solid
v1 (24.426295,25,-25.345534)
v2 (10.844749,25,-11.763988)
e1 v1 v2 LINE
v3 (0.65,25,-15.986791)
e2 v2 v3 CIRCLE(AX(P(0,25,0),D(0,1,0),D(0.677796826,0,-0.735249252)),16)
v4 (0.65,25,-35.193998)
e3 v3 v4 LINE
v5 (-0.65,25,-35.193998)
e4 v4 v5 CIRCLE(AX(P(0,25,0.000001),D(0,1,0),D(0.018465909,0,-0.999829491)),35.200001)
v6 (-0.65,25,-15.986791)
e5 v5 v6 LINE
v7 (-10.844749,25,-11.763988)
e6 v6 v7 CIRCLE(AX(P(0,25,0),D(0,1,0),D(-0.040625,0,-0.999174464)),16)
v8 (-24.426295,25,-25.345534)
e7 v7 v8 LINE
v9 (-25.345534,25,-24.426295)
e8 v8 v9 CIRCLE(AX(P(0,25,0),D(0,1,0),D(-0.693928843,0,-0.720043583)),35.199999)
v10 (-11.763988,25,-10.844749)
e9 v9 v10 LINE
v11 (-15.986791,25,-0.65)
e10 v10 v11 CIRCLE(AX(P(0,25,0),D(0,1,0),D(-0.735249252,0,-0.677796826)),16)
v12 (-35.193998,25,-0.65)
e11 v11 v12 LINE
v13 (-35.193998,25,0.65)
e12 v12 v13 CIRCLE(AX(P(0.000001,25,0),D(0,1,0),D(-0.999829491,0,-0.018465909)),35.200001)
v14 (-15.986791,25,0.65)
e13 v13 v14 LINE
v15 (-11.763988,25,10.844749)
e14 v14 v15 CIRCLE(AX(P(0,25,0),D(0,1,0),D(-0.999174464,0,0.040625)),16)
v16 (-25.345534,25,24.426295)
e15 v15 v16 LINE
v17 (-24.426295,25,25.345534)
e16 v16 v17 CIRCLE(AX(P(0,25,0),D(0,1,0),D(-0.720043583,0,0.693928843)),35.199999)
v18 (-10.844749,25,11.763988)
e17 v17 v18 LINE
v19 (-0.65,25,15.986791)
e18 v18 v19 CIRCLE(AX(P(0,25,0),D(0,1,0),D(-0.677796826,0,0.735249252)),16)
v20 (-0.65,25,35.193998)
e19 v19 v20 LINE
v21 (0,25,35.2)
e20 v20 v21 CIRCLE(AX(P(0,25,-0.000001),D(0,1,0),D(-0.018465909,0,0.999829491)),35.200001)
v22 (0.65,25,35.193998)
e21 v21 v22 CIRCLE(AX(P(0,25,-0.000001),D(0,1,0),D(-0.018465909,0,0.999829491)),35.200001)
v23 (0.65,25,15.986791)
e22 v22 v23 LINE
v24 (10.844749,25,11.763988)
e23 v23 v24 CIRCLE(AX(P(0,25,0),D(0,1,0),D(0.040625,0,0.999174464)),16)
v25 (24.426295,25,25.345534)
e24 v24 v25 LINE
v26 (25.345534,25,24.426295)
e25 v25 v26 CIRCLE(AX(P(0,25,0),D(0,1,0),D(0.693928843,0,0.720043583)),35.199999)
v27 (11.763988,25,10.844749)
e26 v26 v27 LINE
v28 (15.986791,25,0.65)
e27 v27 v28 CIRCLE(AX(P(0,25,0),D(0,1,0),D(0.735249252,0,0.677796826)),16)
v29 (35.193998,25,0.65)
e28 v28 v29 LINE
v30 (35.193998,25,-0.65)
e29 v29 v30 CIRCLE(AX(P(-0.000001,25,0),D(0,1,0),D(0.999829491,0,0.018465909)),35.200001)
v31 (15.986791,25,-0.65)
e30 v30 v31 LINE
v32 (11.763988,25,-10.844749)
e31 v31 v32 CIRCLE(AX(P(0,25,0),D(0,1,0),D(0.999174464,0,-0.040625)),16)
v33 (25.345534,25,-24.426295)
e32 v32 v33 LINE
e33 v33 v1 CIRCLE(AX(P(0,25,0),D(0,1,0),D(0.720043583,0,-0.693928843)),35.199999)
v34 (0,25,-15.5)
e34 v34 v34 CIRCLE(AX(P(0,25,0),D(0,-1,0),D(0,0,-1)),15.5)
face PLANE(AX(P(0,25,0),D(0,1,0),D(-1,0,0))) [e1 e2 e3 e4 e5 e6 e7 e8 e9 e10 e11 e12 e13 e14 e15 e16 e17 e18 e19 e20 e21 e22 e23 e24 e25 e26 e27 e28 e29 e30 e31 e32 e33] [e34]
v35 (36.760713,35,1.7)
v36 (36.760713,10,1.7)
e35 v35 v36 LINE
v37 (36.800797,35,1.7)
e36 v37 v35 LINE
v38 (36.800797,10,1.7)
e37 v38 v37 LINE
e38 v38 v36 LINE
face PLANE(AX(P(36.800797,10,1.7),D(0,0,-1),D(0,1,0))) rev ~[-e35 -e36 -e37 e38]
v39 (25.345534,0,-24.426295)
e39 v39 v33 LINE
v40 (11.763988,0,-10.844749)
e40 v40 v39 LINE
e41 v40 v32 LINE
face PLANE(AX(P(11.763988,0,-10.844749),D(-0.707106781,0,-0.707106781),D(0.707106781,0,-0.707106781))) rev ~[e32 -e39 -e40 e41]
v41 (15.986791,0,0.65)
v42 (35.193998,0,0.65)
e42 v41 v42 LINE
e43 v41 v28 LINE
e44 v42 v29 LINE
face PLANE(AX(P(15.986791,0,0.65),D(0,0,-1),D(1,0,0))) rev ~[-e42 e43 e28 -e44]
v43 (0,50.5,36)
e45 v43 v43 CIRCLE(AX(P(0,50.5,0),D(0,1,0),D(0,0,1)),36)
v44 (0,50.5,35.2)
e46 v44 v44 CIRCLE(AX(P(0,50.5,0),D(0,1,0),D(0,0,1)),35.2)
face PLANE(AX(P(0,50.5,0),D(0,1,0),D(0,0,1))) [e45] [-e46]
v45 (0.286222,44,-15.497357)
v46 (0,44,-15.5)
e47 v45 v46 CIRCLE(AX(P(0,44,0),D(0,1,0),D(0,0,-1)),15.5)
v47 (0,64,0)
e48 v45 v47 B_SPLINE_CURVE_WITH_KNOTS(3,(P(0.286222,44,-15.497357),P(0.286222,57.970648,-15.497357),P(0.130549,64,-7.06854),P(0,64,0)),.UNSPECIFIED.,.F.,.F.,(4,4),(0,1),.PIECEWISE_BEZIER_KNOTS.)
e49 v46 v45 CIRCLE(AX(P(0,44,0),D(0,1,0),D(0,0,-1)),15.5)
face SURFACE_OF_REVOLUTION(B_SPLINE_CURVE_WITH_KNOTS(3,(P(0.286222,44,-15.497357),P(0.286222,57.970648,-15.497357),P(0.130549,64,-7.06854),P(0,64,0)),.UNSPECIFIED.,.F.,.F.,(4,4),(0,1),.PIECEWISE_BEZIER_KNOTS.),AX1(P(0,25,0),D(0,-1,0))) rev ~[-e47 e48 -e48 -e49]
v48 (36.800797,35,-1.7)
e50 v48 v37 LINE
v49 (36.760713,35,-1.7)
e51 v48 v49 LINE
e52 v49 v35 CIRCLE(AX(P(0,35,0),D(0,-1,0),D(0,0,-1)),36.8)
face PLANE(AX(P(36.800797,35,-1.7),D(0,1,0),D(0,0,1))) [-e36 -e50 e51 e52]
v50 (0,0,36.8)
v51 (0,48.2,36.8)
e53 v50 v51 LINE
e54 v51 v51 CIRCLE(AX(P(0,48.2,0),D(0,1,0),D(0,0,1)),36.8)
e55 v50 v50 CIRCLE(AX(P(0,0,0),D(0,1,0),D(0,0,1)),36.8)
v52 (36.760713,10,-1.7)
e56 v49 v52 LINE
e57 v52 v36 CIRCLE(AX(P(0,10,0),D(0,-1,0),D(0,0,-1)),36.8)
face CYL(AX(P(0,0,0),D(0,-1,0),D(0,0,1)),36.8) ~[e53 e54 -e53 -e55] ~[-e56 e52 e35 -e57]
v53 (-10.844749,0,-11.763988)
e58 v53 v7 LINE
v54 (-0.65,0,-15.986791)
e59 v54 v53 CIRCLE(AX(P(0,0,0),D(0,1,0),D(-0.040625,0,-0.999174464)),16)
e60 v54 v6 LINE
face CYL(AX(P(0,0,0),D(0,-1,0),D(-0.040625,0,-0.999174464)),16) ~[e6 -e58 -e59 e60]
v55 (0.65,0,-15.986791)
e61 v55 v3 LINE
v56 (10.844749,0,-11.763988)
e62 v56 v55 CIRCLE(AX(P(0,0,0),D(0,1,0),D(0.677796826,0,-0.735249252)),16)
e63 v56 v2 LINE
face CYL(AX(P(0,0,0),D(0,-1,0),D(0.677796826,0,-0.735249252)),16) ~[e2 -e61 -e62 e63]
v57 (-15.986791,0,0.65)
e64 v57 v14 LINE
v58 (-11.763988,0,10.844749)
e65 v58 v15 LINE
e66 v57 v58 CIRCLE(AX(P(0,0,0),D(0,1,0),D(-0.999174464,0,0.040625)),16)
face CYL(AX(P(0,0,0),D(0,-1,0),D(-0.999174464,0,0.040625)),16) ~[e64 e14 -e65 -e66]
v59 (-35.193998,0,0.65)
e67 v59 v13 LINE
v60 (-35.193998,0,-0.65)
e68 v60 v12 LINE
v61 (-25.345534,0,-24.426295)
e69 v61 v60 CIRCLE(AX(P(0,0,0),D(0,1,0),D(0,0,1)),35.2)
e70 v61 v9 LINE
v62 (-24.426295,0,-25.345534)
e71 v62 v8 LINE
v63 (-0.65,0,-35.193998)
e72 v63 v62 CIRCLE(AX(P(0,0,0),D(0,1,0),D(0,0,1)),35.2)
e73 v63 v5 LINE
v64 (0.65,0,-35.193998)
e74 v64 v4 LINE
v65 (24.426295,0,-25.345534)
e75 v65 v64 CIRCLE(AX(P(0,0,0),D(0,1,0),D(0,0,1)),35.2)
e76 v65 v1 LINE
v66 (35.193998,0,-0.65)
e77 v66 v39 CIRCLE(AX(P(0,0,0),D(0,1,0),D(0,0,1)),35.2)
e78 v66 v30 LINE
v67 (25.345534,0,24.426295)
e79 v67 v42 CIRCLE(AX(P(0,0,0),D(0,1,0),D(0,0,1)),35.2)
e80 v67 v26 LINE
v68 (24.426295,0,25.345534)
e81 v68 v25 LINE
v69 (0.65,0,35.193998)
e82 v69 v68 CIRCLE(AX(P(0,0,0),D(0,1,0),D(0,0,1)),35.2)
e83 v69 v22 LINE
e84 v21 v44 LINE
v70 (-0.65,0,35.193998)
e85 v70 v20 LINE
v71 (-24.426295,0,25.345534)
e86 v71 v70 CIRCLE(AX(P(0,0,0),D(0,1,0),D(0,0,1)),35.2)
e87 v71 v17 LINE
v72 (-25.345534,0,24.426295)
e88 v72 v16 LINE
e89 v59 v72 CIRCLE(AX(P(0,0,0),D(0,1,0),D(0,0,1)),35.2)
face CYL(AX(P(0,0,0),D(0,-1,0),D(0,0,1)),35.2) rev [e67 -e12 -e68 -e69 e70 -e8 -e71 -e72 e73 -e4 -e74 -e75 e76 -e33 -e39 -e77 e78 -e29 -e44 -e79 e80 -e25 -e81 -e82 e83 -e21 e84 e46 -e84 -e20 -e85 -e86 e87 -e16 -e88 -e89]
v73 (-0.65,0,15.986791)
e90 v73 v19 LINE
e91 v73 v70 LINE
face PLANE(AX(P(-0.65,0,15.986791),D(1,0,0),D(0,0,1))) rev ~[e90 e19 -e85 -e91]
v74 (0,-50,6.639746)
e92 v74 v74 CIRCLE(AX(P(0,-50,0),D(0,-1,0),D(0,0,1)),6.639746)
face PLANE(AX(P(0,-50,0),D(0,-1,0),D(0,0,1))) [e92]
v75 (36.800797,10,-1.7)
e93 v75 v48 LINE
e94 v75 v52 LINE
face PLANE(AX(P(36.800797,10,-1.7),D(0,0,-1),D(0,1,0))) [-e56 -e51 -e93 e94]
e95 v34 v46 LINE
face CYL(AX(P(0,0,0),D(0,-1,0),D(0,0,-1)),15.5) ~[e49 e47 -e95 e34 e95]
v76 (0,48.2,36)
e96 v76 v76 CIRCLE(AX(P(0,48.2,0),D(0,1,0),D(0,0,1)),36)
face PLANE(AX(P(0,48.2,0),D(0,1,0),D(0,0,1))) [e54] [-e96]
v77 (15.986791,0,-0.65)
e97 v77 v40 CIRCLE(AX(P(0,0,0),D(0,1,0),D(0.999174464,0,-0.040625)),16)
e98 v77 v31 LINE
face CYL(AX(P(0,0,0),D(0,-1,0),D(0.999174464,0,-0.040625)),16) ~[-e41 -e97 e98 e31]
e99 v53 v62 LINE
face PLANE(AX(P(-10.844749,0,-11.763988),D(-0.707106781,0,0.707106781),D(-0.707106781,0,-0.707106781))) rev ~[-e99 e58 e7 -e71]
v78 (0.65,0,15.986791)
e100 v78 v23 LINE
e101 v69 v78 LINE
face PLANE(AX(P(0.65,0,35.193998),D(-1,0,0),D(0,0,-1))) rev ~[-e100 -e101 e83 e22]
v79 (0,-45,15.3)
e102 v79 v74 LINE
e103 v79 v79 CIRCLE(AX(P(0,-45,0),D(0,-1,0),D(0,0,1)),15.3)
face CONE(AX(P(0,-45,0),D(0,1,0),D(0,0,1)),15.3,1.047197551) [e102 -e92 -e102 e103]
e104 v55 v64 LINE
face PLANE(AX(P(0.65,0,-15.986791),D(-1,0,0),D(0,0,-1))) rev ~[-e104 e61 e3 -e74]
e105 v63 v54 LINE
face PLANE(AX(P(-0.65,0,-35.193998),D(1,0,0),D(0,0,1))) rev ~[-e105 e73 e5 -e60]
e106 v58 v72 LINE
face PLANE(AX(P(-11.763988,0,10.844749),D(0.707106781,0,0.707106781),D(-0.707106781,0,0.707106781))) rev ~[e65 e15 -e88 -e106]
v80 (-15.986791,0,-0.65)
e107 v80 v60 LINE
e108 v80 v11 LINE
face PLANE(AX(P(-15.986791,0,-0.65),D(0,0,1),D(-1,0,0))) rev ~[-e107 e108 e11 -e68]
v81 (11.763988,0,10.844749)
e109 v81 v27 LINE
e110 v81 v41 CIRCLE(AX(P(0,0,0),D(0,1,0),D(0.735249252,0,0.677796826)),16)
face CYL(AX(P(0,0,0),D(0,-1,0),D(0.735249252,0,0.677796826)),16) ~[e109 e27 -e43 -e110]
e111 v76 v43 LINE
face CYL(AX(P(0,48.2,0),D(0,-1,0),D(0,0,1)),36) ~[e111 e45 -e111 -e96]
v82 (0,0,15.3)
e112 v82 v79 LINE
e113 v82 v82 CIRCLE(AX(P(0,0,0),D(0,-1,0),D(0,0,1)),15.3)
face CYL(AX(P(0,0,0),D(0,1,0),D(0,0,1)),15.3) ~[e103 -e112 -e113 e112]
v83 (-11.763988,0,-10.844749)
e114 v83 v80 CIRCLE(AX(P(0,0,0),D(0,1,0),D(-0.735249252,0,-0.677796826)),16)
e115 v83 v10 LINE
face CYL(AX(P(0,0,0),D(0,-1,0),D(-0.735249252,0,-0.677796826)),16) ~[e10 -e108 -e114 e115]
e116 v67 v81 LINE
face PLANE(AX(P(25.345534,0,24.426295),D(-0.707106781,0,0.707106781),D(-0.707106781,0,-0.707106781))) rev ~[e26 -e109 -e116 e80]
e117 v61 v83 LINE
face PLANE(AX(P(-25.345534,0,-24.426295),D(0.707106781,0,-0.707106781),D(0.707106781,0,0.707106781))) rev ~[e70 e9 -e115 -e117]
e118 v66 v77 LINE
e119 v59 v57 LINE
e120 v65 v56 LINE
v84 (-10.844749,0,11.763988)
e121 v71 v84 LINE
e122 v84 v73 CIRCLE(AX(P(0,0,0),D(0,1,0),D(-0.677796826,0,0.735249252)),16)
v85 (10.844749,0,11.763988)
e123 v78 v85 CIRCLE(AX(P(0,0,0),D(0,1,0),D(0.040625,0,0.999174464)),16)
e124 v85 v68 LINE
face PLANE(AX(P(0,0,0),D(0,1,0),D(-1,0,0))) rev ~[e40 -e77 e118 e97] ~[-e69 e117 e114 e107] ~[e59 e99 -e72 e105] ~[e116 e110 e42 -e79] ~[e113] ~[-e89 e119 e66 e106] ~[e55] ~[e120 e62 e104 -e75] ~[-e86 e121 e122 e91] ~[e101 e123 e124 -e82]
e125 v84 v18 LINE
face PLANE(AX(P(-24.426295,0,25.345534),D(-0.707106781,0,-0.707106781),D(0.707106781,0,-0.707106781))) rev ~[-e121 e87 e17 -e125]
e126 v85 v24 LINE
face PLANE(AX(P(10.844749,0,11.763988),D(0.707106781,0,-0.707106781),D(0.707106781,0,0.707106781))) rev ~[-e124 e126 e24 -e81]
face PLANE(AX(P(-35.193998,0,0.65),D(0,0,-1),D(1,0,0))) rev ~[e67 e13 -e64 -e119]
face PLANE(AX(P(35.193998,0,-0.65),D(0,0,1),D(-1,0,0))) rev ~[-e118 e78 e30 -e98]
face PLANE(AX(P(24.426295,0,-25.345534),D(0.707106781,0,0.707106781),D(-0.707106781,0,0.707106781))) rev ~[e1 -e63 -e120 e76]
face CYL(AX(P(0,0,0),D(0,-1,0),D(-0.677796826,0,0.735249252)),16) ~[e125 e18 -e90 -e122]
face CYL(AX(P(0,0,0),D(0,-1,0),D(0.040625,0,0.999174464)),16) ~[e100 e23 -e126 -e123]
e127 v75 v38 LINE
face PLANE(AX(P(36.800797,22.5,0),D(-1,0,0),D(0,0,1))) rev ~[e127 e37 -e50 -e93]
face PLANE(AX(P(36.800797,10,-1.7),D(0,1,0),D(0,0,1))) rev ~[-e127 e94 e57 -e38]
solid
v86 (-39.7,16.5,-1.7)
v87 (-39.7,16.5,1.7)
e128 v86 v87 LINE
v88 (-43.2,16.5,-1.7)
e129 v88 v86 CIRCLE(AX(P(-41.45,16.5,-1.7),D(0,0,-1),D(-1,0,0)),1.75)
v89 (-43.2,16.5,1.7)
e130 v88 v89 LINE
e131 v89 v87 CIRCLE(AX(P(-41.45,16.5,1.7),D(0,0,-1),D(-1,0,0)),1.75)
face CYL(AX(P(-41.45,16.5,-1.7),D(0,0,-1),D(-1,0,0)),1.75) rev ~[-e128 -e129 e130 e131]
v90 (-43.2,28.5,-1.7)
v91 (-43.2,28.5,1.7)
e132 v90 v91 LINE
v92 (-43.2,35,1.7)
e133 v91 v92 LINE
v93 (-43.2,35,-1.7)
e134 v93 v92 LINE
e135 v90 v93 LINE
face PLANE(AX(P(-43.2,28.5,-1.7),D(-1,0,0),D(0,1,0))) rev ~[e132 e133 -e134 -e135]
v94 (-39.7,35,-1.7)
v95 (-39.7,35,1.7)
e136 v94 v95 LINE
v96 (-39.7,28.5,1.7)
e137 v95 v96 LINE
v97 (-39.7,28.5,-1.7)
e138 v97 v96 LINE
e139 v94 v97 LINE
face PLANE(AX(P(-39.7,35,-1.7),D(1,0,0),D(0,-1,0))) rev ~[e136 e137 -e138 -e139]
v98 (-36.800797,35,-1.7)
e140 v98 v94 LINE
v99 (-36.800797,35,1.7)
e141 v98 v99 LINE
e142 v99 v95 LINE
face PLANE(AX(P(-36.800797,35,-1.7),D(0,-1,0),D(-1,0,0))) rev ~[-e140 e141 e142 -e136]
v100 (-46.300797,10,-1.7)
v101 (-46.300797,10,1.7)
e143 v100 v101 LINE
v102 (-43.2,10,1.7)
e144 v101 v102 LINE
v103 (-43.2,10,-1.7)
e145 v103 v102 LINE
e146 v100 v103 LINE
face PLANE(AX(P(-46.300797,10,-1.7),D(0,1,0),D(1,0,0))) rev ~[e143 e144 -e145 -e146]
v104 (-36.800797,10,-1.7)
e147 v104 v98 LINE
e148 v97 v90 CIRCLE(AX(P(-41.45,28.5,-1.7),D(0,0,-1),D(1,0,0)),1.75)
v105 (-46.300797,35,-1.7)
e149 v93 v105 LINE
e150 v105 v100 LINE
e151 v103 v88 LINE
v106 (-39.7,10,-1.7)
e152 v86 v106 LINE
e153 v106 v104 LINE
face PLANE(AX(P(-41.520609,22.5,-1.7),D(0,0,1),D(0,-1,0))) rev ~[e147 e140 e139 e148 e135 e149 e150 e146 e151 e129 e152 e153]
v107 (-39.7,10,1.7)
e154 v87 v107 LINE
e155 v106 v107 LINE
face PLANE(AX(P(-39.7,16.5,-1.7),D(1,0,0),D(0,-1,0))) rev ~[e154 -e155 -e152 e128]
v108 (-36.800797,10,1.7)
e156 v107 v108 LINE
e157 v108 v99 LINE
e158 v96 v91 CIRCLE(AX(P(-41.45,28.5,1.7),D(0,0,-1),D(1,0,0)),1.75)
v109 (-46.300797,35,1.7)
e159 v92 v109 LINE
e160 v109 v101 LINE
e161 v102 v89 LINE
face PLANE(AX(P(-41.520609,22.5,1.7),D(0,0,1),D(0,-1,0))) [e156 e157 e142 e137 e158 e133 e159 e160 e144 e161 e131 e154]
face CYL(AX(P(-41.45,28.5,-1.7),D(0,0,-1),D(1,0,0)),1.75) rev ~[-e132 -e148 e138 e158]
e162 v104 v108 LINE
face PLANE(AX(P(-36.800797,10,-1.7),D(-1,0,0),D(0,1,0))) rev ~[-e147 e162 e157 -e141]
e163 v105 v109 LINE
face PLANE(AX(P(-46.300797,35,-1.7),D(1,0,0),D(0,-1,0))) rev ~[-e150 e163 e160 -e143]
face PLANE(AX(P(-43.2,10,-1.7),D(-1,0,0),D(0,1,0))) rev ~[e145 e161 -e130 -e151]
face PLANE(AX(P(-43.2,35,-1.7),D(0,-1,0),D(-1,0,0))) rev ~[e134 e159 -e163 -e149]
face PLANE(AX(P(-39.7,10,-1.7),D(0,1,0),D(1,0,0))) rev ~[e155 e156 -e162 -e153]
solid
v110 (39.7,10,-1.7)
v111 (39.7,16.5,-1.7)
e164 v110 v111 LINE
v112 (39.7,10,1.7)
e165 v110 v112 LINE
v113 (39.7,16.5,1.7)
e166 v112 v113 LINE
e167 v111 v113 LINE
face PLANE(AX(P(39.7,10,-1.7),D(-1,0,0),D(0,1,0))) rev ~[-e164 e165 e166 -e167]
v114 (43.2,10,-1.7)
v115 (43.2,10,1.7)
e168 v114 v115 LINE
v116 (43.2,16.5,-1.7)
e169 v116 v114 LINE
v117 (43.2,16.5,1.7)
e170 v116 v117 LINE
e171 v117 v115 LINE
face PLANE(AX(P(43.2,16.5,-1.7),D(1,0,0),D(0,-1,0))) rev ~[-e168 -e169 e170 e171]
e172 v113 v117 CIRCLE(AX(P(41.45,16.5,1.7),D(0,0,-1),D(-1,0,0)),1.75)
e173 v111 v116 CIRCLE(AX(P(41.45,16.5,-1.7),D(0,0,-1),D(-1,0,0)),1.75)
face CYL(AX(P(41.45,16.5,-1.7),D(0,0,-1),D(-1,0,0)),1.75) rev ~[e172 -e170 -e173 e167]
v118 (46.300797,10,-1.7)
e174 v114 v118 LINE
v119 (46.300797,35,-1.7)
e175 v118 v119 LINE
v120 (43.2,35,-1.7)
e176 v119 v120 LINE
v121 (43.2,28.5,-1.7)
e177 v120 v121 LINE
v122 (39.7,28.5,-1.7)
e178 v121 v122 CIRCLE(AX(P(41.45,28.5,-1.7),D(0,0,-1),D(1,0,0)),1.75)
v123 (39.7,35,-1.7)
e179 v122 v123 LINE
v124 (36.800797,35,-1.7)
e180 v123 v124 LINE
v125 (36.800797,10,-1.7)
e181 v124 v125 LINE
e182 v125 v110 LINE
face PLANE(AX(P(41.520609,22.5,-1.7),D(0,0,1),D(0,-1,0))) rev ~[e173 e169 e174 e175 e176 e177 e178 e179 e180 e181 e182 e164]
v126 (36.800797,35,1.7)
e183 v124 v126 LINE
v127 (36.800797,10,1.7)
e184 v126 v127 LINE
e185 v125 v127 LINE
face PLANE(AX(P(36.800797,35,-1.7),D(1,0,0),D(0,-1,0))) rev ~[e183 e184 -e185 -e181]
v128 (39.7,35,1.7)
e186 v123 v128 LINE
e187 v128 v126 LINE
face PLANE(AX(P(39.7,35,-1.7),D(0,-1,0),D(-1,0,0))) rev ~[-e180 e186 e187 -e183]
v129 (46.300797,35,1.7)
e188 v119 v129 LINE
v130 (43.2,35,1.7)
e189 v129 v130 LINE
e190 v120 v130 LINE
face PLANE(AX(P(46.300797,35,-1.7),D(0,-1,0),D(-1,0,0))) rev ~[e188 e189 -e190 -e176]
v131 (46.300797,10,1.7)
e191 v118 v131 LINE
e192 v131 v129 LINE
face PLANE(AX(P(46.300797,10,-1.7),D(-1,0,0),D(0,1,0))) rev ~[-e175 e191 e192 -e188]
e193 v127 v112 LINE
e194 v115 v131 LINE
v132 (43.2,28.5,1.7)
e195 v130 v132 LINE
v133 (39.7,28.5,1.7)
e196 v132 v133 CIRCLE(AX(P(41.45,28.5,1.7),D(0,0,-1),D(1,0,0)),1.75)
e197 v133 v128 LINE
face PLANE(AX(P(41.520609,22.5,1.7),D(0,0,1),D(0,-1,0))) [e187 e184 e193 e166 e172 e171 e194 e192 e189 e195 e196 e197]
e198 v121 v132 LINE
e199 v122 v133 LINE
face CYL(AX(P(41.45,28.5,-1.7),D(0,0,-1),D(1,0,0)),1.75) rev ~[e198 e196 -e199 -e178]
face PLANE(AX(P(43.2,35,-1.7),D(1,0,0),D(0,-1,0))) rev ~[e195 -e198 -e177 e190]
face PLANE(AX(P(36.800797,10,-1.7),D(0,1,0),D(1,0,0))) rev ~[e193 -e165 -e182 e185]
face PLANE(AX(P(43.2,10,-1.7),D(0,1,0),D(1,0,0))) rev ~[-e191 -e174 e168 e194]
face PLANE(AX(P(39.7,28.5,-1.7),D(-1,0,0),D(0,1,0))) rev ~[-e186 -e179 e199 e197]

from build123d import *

# Parameters (mm, degrees)
SKETCH1_R                  = 36.8
SKETCH1_R_2                = 35.2
BOSS_EXTRUDE1_DEPTH        = 50.5
SKETCH2_R                  = 15
BOSS_EXTRUDE2_DEPTH        = 25
BOSS_EXTRUDE3_DEPTH        = 1.7
BOSS_EXTRUDE3_DEPTH_BACK   = 1.7
BOSS_EXTRUDE3_2_DEPTH      = 1.7
BOSS_EXTRUDE3_2_DEPTH_BACK = 1.7
BOSS_EXTRUDE4_REACH        = 105.973
BOSS_EXTRUDE4_END_RADIUS   = 36.8
SKETCH4_W                  = 3.4
SKETCH4_H                  = 25
CUT_EXTRUDE1_START         = -2.3
SKETCH5_R                  = 36.8
SKETCH5_R_2                = 36
CUT_EXTRUDE1_DEPTH         = 2.3
SKETCH6_R                  = 15.3
BOSS_EXTRUDE5_DEPTH        = 50
CHAMFER1_SIZE              = 5
CHAMFER1_SIZE2             = 8.660254038
SKETCH7_R                  = 15.5
BOSS_EXTRUDE6_DEPTH        = 44


with BuildPart() as part:
    # Sketch1 → Boss-Extrude1 (new body)
    with BuildSketch(Plane(origin=(0, 0, 0), x_dir=(1, 0, 0), z_dir=(0, 1, 0))):
        with Locations(Location((0, 0, 0), (0, 0, 270))):
            Circle(SKETCH1_R)
        with Locations(Location((0, 0, 0), (0, 0, 270))):
            Circle(SKETCH1_R_2, mode=Mode.SUBTRACT)
    extrude(amount=BOSS_EXTRUDE1_DEPTH)

    # Sketch2 → Boss-Extrude2 (add)
    with BuildSketch(Plane.XZ):
        with BuildLine():
            Line((15.986791423, 0.65), (35.193998068, 0.65))
            ThreePointArc((35.193998068, 0.65), (35.2, 0), (35.193998068, -0.65))
            Line((35.193998068, -0.65), (15.986791423, -0.65))
            ThreePointArc((15.986791423, -0.65), (14.78207252, -6.122934918), (11.763988032, -10.844749217))
            Line((11.763988032, -10.844749217), (25.345534099, -24.426295283))
            ThreePointArc((25.345534099, -24.426295283), (24.890158698, -24.890158698), (24.426295283, -25.345534099))
            Line((24.426295283, -25.345534099), (10.844749217, -11.763988032))
            ThreePointArc((10.844749217, -11.763988032), (6.122934918, -14.78207252), (0.65, -15.986791423))
            Line((0.65, -15.986791423), (0.65, -35.193998068))
            ThreePointArc((0.65, -35.193998068), (0, -35.2), (-0.65, -35.193998068))
            Line((-0.65, -35.193998068), (-0.65, -15.986791423))
            ThreePointArc((-0.65, -15.986791423), (-6.122934918, -14.78207252), (-10.844749217, -11.763988032))
            Line((-10.844749217, -11.763988032), (-24.426295283, -25.345534099))
            ThreePointArc((-24.426295283, -25.345534099), (-24.890158698, -24.890158698), (-25.345534099, -24.426295283))
            Line((-25.345534099, -24.426295283), (-11.763988032, -10.844749217))
            ThreePointArc((-11.763988032, -10.844749217), (-14.78207252, -6.122934918), (-15.986791423, -0.65))
            Line((-15.986791423, -0.65), (-35.193998068, -0.65))
            ThreePointArc((-35.193998068, -0.65), (-35.2, 0), (-35.193998068, 0.65))
            Line((-35.193998068, 0.65), (-15.986791423, 0.65))
            ThreePointArc((-15.986791423, 0.65), (-14.78207252, 6.122934918), (-11.763988032, 10.844749217))
            Line((-11.763988032, 10.844749217), (-25.345534099, 24.426295283))
            ThreePointArc((-25.345534099, 24.426295283), (-24.890158698, 24.890158698), (-24.426295283, 25.345534099))
            Line((-24.426295283, 25.345534099), (-10.844749217, 11.763988032))
            ThreePointArc((-10.844749217, 11.763988032), (-6.122934918, 14.78207252), (-0.65, 15.986791423))
            Line((-0.65, 15.986791423), (-0.65, 35.193998068))
            ThreePointArc((-0.65, 35.193998068), (0, 35.2), (0.65, 35.193998068))
            Line((0.65, 35.193998068), (0.65, 15.986791423))
            ThreePointArc((0.65, 15.986791423), (6.122934918, 14.78207252), (10.844749217, 11.763988032))
            Line((10.844749217, 11.763988032), (24.426295283, 25.345534099))
            ThreePointArc((24.426295283, 25.345534099), (24.890158698, 24.890158698), (25.345534099, 24.426295283))
            Line((25.345534099, 24.426295283), (11.763988032, 10.844749217))
            ThreePointArc((11.763988032, 10.844749217), (14.78207252, 6.122934918), (15.986791423, 0.65))
        make_face()
        with Locations(Location((0, 0, 0), (0, 0, 270))):
            Circle(SKETCH2_R, mode=Mode.SUBTRACT)
    extrude(amount=-BOSS_EXTRUDE2_DEPTH)

    # Boss-Extrude4: up to this cylinder (the profile starts outside it)
    boss_extrude4_end = Plane(origin=(0, 22.5, 0), z_dir=(0, -1, 0)) * Cylinder(BOSS_EXTRUDE4_END_RADIUS, 286.546, mode=Mode.PRIVATE)
    # Sketch4 → Boss-Extrude4 (add, up to the surface)
    with BuildSketch(Plane.ZY.offset(-36.800796618), mode=Mode.PRIVATE) as boss_extrude4_sk1:
        with Locations((0, 22.5)):
            Rectangle(SKETCH4_W, SKETCH4_H)
    boss_extrude4_tool1 = extrude(boss_extrude4_sk1.sketch, amount=BOSS_EXTRUDE4_REACH, mode=Mode.PRIVATE) - boss_extrude4_end
    add(boss_extrude4_tool1.solids().sort_by_distance((36.800797, 22.5, 0))[0])

    # Sketch5 → Cut-Extrude1 (cut)
    with BuildSketch(Plane(origin=(0, 50.5, 0), x_dir=(1, 0, 0), z_dir=(0, 1, 0)).offset(CUT_EXTRUDE1_START)):
        with Locations(Location((0, 0, 0), (0, 0, 270))):
            Circle(SKETCH5_R)
        with Locations(Location((0, 0, 0), (0, 0, 270))):
            Circle(SKETCH5_R_2, mode=Mode.SUBTRACT)
    extrude(amount=CUT_EXTRUDE1_DEPTH, mode=Mode.SUBTRACT)

    # Sketch6 → Boss-Extrude5 (add)
    with BuildSketch(Plane.XZ):
        with Locations(Location((0, 0, 0), (0, 0, 90))):
            Circle(SKETCH6_R)
    extrude(amount=BOSS_EXTRUDE5_DEPTH)

    # Chamfer1
    chamfer1_edges = [part.edges().sort_by_distance(p)[0] for p in [
        (0, -50, -15.3),
    ]]
    chamfer1_side = [part.faces().sort_by_distance(p)[0] for p in [
        (0, -25, -15.3),
    ]]
    chamfer(chamfer1_edges, length=CHAMFER1_SIZE, length2=CHAMFER1_SIZE2, reference=chamfer1_side[0])

    # Sketch7 → Boss-Extrude6 (add)
    with BuildSketch(Plane(origin=(0, 0, 0), x_dir=(1, 0, 0), z_dir=(0, 1, 0))):
        with Locations(Location((0, 0, 0), (0, 0, 90))):
            Circle(SKETCH7_R)
    extrude(amount=BOSS_EXTRUDE6_DEPTH)

    # Sketch8 → Revolve2 (revolve)
    with BuildSketch(Plane(origin=(0, 0, 0), x_dir=(0, -1, 0), z_dir=(0, 0, 1)), mode=Mode.PRIVATE) as revolve2_sk:
        with BuildLine():
            Line((-44, 15.5), (-44, 0))
            Line((-44, 0), (-64, 0))
            add(Edge.make_bspline(
                [(-44, 15.5), (-57.970648209, 15.5), (-64, 7.069745011), (-64, 0)],
                knots=[0, 0, 0, 0, 1, 1, 1, 1], degree=3))
        make_face()
    revolve(revolve2_sk.sketch.rotate(Axis((0, 25, 0), (0, -1, 0)), 271.058078794), axis=Axis((0, 25, 0), (0, -1, 0)))


with BuildPart() as body_2:
    # Sketch3 → Boss-Extrude3 (new, two sides: drawn at the far end of the back side and taken through both)
    with BuildSketch(Plane(origin=(0, 0, 0), x_dir=(0, -1, 0), z_dir=(0, 0, 1)).offset(-BOSS_EXTRUDE3_DEPTH_BACK)):
        with BuildLine():
            Line((-35, 36.800796618), (-10, 36.800796618))
            Line((-10, 36.800796618), (-10, 39.7))
            Line((-10, 39.7), (-16.5, 39.7))
            ThreePointArc((-16.5, 39.7), (-18.25, 41.45), (-16.5, 43.2))
            Line((-16.5, 43.2), (-10, 43.2))
            Line((-10, 43.2), (-10, 46.300796618))
            Line((-10, 46.300796618), (-35, 46.300796618))
            Line((-35, 46.300796618), (-35, 43.2))
            Line((-35, 43.2), (-28.5, 43.2))
            ThreePointArc((-28.5, 43.2), (-26.75, 41.45), (-28.5, 39.7))
            Line((-28.5, 39.7), (-35, 39.7))
            Line((-35, 39.7), (-35, 36.800796618))
        make_face()
    extrude(amount=BOSS_EXTRUDE3_DEPTH + BOSS_EXTRUDE3_DEPTH_BACK)


with BuildPart() as body_3:
    # Sketch3 → Boss-Extrude3 2 (new, two sides: drawn at the far end of the back side and taken through both)
    with BuildSketch(Plane(origin=(0, 0, 0), x_dir=(0, -1, 0), z_dir=(0, 0, 1)).offset(-BOSS_EXTRUDE3_2_DEPTH_BACK)):
        with BuildLine():
            Line((-16.5, -39.7), (-10, -39.7))
            Line((-10, -39.7), (-10, -36.800796618))
            Line((-10, -36.800796618), (-35, -36.800796618))
            Line((-35, -36.800796618), (-35, -39.7))
            Line((-35, -39.7), (-28.5, -39.7))
            ThreePointArc((-28.5, -39.7), (-26.75, -41.45), (-28.5, -43.2))
            Line((-28.5, -43.2), (-35, -43.2))
            Line((-35, -43.2), (-35, -46.300796618))
            Line((-35, -46.300796618), (-10, -46.300796618))
            Line((-10, -46.300796618), (-10, -43.2))
            Line((-10, -43.2), (-16.5, -43.2))
            ThreePointArc((-16.5, -43.2), (-18.25, -41.45), (-16.5, -39.7))
        make_face()
    extrude(amount=BOSS_EXTRUDE3_2_DEPTH + BOSS_EXTRUDE3_2_DEPTH_BACK)


solid = Compound([part.part, body_2.part, body_3.part])
